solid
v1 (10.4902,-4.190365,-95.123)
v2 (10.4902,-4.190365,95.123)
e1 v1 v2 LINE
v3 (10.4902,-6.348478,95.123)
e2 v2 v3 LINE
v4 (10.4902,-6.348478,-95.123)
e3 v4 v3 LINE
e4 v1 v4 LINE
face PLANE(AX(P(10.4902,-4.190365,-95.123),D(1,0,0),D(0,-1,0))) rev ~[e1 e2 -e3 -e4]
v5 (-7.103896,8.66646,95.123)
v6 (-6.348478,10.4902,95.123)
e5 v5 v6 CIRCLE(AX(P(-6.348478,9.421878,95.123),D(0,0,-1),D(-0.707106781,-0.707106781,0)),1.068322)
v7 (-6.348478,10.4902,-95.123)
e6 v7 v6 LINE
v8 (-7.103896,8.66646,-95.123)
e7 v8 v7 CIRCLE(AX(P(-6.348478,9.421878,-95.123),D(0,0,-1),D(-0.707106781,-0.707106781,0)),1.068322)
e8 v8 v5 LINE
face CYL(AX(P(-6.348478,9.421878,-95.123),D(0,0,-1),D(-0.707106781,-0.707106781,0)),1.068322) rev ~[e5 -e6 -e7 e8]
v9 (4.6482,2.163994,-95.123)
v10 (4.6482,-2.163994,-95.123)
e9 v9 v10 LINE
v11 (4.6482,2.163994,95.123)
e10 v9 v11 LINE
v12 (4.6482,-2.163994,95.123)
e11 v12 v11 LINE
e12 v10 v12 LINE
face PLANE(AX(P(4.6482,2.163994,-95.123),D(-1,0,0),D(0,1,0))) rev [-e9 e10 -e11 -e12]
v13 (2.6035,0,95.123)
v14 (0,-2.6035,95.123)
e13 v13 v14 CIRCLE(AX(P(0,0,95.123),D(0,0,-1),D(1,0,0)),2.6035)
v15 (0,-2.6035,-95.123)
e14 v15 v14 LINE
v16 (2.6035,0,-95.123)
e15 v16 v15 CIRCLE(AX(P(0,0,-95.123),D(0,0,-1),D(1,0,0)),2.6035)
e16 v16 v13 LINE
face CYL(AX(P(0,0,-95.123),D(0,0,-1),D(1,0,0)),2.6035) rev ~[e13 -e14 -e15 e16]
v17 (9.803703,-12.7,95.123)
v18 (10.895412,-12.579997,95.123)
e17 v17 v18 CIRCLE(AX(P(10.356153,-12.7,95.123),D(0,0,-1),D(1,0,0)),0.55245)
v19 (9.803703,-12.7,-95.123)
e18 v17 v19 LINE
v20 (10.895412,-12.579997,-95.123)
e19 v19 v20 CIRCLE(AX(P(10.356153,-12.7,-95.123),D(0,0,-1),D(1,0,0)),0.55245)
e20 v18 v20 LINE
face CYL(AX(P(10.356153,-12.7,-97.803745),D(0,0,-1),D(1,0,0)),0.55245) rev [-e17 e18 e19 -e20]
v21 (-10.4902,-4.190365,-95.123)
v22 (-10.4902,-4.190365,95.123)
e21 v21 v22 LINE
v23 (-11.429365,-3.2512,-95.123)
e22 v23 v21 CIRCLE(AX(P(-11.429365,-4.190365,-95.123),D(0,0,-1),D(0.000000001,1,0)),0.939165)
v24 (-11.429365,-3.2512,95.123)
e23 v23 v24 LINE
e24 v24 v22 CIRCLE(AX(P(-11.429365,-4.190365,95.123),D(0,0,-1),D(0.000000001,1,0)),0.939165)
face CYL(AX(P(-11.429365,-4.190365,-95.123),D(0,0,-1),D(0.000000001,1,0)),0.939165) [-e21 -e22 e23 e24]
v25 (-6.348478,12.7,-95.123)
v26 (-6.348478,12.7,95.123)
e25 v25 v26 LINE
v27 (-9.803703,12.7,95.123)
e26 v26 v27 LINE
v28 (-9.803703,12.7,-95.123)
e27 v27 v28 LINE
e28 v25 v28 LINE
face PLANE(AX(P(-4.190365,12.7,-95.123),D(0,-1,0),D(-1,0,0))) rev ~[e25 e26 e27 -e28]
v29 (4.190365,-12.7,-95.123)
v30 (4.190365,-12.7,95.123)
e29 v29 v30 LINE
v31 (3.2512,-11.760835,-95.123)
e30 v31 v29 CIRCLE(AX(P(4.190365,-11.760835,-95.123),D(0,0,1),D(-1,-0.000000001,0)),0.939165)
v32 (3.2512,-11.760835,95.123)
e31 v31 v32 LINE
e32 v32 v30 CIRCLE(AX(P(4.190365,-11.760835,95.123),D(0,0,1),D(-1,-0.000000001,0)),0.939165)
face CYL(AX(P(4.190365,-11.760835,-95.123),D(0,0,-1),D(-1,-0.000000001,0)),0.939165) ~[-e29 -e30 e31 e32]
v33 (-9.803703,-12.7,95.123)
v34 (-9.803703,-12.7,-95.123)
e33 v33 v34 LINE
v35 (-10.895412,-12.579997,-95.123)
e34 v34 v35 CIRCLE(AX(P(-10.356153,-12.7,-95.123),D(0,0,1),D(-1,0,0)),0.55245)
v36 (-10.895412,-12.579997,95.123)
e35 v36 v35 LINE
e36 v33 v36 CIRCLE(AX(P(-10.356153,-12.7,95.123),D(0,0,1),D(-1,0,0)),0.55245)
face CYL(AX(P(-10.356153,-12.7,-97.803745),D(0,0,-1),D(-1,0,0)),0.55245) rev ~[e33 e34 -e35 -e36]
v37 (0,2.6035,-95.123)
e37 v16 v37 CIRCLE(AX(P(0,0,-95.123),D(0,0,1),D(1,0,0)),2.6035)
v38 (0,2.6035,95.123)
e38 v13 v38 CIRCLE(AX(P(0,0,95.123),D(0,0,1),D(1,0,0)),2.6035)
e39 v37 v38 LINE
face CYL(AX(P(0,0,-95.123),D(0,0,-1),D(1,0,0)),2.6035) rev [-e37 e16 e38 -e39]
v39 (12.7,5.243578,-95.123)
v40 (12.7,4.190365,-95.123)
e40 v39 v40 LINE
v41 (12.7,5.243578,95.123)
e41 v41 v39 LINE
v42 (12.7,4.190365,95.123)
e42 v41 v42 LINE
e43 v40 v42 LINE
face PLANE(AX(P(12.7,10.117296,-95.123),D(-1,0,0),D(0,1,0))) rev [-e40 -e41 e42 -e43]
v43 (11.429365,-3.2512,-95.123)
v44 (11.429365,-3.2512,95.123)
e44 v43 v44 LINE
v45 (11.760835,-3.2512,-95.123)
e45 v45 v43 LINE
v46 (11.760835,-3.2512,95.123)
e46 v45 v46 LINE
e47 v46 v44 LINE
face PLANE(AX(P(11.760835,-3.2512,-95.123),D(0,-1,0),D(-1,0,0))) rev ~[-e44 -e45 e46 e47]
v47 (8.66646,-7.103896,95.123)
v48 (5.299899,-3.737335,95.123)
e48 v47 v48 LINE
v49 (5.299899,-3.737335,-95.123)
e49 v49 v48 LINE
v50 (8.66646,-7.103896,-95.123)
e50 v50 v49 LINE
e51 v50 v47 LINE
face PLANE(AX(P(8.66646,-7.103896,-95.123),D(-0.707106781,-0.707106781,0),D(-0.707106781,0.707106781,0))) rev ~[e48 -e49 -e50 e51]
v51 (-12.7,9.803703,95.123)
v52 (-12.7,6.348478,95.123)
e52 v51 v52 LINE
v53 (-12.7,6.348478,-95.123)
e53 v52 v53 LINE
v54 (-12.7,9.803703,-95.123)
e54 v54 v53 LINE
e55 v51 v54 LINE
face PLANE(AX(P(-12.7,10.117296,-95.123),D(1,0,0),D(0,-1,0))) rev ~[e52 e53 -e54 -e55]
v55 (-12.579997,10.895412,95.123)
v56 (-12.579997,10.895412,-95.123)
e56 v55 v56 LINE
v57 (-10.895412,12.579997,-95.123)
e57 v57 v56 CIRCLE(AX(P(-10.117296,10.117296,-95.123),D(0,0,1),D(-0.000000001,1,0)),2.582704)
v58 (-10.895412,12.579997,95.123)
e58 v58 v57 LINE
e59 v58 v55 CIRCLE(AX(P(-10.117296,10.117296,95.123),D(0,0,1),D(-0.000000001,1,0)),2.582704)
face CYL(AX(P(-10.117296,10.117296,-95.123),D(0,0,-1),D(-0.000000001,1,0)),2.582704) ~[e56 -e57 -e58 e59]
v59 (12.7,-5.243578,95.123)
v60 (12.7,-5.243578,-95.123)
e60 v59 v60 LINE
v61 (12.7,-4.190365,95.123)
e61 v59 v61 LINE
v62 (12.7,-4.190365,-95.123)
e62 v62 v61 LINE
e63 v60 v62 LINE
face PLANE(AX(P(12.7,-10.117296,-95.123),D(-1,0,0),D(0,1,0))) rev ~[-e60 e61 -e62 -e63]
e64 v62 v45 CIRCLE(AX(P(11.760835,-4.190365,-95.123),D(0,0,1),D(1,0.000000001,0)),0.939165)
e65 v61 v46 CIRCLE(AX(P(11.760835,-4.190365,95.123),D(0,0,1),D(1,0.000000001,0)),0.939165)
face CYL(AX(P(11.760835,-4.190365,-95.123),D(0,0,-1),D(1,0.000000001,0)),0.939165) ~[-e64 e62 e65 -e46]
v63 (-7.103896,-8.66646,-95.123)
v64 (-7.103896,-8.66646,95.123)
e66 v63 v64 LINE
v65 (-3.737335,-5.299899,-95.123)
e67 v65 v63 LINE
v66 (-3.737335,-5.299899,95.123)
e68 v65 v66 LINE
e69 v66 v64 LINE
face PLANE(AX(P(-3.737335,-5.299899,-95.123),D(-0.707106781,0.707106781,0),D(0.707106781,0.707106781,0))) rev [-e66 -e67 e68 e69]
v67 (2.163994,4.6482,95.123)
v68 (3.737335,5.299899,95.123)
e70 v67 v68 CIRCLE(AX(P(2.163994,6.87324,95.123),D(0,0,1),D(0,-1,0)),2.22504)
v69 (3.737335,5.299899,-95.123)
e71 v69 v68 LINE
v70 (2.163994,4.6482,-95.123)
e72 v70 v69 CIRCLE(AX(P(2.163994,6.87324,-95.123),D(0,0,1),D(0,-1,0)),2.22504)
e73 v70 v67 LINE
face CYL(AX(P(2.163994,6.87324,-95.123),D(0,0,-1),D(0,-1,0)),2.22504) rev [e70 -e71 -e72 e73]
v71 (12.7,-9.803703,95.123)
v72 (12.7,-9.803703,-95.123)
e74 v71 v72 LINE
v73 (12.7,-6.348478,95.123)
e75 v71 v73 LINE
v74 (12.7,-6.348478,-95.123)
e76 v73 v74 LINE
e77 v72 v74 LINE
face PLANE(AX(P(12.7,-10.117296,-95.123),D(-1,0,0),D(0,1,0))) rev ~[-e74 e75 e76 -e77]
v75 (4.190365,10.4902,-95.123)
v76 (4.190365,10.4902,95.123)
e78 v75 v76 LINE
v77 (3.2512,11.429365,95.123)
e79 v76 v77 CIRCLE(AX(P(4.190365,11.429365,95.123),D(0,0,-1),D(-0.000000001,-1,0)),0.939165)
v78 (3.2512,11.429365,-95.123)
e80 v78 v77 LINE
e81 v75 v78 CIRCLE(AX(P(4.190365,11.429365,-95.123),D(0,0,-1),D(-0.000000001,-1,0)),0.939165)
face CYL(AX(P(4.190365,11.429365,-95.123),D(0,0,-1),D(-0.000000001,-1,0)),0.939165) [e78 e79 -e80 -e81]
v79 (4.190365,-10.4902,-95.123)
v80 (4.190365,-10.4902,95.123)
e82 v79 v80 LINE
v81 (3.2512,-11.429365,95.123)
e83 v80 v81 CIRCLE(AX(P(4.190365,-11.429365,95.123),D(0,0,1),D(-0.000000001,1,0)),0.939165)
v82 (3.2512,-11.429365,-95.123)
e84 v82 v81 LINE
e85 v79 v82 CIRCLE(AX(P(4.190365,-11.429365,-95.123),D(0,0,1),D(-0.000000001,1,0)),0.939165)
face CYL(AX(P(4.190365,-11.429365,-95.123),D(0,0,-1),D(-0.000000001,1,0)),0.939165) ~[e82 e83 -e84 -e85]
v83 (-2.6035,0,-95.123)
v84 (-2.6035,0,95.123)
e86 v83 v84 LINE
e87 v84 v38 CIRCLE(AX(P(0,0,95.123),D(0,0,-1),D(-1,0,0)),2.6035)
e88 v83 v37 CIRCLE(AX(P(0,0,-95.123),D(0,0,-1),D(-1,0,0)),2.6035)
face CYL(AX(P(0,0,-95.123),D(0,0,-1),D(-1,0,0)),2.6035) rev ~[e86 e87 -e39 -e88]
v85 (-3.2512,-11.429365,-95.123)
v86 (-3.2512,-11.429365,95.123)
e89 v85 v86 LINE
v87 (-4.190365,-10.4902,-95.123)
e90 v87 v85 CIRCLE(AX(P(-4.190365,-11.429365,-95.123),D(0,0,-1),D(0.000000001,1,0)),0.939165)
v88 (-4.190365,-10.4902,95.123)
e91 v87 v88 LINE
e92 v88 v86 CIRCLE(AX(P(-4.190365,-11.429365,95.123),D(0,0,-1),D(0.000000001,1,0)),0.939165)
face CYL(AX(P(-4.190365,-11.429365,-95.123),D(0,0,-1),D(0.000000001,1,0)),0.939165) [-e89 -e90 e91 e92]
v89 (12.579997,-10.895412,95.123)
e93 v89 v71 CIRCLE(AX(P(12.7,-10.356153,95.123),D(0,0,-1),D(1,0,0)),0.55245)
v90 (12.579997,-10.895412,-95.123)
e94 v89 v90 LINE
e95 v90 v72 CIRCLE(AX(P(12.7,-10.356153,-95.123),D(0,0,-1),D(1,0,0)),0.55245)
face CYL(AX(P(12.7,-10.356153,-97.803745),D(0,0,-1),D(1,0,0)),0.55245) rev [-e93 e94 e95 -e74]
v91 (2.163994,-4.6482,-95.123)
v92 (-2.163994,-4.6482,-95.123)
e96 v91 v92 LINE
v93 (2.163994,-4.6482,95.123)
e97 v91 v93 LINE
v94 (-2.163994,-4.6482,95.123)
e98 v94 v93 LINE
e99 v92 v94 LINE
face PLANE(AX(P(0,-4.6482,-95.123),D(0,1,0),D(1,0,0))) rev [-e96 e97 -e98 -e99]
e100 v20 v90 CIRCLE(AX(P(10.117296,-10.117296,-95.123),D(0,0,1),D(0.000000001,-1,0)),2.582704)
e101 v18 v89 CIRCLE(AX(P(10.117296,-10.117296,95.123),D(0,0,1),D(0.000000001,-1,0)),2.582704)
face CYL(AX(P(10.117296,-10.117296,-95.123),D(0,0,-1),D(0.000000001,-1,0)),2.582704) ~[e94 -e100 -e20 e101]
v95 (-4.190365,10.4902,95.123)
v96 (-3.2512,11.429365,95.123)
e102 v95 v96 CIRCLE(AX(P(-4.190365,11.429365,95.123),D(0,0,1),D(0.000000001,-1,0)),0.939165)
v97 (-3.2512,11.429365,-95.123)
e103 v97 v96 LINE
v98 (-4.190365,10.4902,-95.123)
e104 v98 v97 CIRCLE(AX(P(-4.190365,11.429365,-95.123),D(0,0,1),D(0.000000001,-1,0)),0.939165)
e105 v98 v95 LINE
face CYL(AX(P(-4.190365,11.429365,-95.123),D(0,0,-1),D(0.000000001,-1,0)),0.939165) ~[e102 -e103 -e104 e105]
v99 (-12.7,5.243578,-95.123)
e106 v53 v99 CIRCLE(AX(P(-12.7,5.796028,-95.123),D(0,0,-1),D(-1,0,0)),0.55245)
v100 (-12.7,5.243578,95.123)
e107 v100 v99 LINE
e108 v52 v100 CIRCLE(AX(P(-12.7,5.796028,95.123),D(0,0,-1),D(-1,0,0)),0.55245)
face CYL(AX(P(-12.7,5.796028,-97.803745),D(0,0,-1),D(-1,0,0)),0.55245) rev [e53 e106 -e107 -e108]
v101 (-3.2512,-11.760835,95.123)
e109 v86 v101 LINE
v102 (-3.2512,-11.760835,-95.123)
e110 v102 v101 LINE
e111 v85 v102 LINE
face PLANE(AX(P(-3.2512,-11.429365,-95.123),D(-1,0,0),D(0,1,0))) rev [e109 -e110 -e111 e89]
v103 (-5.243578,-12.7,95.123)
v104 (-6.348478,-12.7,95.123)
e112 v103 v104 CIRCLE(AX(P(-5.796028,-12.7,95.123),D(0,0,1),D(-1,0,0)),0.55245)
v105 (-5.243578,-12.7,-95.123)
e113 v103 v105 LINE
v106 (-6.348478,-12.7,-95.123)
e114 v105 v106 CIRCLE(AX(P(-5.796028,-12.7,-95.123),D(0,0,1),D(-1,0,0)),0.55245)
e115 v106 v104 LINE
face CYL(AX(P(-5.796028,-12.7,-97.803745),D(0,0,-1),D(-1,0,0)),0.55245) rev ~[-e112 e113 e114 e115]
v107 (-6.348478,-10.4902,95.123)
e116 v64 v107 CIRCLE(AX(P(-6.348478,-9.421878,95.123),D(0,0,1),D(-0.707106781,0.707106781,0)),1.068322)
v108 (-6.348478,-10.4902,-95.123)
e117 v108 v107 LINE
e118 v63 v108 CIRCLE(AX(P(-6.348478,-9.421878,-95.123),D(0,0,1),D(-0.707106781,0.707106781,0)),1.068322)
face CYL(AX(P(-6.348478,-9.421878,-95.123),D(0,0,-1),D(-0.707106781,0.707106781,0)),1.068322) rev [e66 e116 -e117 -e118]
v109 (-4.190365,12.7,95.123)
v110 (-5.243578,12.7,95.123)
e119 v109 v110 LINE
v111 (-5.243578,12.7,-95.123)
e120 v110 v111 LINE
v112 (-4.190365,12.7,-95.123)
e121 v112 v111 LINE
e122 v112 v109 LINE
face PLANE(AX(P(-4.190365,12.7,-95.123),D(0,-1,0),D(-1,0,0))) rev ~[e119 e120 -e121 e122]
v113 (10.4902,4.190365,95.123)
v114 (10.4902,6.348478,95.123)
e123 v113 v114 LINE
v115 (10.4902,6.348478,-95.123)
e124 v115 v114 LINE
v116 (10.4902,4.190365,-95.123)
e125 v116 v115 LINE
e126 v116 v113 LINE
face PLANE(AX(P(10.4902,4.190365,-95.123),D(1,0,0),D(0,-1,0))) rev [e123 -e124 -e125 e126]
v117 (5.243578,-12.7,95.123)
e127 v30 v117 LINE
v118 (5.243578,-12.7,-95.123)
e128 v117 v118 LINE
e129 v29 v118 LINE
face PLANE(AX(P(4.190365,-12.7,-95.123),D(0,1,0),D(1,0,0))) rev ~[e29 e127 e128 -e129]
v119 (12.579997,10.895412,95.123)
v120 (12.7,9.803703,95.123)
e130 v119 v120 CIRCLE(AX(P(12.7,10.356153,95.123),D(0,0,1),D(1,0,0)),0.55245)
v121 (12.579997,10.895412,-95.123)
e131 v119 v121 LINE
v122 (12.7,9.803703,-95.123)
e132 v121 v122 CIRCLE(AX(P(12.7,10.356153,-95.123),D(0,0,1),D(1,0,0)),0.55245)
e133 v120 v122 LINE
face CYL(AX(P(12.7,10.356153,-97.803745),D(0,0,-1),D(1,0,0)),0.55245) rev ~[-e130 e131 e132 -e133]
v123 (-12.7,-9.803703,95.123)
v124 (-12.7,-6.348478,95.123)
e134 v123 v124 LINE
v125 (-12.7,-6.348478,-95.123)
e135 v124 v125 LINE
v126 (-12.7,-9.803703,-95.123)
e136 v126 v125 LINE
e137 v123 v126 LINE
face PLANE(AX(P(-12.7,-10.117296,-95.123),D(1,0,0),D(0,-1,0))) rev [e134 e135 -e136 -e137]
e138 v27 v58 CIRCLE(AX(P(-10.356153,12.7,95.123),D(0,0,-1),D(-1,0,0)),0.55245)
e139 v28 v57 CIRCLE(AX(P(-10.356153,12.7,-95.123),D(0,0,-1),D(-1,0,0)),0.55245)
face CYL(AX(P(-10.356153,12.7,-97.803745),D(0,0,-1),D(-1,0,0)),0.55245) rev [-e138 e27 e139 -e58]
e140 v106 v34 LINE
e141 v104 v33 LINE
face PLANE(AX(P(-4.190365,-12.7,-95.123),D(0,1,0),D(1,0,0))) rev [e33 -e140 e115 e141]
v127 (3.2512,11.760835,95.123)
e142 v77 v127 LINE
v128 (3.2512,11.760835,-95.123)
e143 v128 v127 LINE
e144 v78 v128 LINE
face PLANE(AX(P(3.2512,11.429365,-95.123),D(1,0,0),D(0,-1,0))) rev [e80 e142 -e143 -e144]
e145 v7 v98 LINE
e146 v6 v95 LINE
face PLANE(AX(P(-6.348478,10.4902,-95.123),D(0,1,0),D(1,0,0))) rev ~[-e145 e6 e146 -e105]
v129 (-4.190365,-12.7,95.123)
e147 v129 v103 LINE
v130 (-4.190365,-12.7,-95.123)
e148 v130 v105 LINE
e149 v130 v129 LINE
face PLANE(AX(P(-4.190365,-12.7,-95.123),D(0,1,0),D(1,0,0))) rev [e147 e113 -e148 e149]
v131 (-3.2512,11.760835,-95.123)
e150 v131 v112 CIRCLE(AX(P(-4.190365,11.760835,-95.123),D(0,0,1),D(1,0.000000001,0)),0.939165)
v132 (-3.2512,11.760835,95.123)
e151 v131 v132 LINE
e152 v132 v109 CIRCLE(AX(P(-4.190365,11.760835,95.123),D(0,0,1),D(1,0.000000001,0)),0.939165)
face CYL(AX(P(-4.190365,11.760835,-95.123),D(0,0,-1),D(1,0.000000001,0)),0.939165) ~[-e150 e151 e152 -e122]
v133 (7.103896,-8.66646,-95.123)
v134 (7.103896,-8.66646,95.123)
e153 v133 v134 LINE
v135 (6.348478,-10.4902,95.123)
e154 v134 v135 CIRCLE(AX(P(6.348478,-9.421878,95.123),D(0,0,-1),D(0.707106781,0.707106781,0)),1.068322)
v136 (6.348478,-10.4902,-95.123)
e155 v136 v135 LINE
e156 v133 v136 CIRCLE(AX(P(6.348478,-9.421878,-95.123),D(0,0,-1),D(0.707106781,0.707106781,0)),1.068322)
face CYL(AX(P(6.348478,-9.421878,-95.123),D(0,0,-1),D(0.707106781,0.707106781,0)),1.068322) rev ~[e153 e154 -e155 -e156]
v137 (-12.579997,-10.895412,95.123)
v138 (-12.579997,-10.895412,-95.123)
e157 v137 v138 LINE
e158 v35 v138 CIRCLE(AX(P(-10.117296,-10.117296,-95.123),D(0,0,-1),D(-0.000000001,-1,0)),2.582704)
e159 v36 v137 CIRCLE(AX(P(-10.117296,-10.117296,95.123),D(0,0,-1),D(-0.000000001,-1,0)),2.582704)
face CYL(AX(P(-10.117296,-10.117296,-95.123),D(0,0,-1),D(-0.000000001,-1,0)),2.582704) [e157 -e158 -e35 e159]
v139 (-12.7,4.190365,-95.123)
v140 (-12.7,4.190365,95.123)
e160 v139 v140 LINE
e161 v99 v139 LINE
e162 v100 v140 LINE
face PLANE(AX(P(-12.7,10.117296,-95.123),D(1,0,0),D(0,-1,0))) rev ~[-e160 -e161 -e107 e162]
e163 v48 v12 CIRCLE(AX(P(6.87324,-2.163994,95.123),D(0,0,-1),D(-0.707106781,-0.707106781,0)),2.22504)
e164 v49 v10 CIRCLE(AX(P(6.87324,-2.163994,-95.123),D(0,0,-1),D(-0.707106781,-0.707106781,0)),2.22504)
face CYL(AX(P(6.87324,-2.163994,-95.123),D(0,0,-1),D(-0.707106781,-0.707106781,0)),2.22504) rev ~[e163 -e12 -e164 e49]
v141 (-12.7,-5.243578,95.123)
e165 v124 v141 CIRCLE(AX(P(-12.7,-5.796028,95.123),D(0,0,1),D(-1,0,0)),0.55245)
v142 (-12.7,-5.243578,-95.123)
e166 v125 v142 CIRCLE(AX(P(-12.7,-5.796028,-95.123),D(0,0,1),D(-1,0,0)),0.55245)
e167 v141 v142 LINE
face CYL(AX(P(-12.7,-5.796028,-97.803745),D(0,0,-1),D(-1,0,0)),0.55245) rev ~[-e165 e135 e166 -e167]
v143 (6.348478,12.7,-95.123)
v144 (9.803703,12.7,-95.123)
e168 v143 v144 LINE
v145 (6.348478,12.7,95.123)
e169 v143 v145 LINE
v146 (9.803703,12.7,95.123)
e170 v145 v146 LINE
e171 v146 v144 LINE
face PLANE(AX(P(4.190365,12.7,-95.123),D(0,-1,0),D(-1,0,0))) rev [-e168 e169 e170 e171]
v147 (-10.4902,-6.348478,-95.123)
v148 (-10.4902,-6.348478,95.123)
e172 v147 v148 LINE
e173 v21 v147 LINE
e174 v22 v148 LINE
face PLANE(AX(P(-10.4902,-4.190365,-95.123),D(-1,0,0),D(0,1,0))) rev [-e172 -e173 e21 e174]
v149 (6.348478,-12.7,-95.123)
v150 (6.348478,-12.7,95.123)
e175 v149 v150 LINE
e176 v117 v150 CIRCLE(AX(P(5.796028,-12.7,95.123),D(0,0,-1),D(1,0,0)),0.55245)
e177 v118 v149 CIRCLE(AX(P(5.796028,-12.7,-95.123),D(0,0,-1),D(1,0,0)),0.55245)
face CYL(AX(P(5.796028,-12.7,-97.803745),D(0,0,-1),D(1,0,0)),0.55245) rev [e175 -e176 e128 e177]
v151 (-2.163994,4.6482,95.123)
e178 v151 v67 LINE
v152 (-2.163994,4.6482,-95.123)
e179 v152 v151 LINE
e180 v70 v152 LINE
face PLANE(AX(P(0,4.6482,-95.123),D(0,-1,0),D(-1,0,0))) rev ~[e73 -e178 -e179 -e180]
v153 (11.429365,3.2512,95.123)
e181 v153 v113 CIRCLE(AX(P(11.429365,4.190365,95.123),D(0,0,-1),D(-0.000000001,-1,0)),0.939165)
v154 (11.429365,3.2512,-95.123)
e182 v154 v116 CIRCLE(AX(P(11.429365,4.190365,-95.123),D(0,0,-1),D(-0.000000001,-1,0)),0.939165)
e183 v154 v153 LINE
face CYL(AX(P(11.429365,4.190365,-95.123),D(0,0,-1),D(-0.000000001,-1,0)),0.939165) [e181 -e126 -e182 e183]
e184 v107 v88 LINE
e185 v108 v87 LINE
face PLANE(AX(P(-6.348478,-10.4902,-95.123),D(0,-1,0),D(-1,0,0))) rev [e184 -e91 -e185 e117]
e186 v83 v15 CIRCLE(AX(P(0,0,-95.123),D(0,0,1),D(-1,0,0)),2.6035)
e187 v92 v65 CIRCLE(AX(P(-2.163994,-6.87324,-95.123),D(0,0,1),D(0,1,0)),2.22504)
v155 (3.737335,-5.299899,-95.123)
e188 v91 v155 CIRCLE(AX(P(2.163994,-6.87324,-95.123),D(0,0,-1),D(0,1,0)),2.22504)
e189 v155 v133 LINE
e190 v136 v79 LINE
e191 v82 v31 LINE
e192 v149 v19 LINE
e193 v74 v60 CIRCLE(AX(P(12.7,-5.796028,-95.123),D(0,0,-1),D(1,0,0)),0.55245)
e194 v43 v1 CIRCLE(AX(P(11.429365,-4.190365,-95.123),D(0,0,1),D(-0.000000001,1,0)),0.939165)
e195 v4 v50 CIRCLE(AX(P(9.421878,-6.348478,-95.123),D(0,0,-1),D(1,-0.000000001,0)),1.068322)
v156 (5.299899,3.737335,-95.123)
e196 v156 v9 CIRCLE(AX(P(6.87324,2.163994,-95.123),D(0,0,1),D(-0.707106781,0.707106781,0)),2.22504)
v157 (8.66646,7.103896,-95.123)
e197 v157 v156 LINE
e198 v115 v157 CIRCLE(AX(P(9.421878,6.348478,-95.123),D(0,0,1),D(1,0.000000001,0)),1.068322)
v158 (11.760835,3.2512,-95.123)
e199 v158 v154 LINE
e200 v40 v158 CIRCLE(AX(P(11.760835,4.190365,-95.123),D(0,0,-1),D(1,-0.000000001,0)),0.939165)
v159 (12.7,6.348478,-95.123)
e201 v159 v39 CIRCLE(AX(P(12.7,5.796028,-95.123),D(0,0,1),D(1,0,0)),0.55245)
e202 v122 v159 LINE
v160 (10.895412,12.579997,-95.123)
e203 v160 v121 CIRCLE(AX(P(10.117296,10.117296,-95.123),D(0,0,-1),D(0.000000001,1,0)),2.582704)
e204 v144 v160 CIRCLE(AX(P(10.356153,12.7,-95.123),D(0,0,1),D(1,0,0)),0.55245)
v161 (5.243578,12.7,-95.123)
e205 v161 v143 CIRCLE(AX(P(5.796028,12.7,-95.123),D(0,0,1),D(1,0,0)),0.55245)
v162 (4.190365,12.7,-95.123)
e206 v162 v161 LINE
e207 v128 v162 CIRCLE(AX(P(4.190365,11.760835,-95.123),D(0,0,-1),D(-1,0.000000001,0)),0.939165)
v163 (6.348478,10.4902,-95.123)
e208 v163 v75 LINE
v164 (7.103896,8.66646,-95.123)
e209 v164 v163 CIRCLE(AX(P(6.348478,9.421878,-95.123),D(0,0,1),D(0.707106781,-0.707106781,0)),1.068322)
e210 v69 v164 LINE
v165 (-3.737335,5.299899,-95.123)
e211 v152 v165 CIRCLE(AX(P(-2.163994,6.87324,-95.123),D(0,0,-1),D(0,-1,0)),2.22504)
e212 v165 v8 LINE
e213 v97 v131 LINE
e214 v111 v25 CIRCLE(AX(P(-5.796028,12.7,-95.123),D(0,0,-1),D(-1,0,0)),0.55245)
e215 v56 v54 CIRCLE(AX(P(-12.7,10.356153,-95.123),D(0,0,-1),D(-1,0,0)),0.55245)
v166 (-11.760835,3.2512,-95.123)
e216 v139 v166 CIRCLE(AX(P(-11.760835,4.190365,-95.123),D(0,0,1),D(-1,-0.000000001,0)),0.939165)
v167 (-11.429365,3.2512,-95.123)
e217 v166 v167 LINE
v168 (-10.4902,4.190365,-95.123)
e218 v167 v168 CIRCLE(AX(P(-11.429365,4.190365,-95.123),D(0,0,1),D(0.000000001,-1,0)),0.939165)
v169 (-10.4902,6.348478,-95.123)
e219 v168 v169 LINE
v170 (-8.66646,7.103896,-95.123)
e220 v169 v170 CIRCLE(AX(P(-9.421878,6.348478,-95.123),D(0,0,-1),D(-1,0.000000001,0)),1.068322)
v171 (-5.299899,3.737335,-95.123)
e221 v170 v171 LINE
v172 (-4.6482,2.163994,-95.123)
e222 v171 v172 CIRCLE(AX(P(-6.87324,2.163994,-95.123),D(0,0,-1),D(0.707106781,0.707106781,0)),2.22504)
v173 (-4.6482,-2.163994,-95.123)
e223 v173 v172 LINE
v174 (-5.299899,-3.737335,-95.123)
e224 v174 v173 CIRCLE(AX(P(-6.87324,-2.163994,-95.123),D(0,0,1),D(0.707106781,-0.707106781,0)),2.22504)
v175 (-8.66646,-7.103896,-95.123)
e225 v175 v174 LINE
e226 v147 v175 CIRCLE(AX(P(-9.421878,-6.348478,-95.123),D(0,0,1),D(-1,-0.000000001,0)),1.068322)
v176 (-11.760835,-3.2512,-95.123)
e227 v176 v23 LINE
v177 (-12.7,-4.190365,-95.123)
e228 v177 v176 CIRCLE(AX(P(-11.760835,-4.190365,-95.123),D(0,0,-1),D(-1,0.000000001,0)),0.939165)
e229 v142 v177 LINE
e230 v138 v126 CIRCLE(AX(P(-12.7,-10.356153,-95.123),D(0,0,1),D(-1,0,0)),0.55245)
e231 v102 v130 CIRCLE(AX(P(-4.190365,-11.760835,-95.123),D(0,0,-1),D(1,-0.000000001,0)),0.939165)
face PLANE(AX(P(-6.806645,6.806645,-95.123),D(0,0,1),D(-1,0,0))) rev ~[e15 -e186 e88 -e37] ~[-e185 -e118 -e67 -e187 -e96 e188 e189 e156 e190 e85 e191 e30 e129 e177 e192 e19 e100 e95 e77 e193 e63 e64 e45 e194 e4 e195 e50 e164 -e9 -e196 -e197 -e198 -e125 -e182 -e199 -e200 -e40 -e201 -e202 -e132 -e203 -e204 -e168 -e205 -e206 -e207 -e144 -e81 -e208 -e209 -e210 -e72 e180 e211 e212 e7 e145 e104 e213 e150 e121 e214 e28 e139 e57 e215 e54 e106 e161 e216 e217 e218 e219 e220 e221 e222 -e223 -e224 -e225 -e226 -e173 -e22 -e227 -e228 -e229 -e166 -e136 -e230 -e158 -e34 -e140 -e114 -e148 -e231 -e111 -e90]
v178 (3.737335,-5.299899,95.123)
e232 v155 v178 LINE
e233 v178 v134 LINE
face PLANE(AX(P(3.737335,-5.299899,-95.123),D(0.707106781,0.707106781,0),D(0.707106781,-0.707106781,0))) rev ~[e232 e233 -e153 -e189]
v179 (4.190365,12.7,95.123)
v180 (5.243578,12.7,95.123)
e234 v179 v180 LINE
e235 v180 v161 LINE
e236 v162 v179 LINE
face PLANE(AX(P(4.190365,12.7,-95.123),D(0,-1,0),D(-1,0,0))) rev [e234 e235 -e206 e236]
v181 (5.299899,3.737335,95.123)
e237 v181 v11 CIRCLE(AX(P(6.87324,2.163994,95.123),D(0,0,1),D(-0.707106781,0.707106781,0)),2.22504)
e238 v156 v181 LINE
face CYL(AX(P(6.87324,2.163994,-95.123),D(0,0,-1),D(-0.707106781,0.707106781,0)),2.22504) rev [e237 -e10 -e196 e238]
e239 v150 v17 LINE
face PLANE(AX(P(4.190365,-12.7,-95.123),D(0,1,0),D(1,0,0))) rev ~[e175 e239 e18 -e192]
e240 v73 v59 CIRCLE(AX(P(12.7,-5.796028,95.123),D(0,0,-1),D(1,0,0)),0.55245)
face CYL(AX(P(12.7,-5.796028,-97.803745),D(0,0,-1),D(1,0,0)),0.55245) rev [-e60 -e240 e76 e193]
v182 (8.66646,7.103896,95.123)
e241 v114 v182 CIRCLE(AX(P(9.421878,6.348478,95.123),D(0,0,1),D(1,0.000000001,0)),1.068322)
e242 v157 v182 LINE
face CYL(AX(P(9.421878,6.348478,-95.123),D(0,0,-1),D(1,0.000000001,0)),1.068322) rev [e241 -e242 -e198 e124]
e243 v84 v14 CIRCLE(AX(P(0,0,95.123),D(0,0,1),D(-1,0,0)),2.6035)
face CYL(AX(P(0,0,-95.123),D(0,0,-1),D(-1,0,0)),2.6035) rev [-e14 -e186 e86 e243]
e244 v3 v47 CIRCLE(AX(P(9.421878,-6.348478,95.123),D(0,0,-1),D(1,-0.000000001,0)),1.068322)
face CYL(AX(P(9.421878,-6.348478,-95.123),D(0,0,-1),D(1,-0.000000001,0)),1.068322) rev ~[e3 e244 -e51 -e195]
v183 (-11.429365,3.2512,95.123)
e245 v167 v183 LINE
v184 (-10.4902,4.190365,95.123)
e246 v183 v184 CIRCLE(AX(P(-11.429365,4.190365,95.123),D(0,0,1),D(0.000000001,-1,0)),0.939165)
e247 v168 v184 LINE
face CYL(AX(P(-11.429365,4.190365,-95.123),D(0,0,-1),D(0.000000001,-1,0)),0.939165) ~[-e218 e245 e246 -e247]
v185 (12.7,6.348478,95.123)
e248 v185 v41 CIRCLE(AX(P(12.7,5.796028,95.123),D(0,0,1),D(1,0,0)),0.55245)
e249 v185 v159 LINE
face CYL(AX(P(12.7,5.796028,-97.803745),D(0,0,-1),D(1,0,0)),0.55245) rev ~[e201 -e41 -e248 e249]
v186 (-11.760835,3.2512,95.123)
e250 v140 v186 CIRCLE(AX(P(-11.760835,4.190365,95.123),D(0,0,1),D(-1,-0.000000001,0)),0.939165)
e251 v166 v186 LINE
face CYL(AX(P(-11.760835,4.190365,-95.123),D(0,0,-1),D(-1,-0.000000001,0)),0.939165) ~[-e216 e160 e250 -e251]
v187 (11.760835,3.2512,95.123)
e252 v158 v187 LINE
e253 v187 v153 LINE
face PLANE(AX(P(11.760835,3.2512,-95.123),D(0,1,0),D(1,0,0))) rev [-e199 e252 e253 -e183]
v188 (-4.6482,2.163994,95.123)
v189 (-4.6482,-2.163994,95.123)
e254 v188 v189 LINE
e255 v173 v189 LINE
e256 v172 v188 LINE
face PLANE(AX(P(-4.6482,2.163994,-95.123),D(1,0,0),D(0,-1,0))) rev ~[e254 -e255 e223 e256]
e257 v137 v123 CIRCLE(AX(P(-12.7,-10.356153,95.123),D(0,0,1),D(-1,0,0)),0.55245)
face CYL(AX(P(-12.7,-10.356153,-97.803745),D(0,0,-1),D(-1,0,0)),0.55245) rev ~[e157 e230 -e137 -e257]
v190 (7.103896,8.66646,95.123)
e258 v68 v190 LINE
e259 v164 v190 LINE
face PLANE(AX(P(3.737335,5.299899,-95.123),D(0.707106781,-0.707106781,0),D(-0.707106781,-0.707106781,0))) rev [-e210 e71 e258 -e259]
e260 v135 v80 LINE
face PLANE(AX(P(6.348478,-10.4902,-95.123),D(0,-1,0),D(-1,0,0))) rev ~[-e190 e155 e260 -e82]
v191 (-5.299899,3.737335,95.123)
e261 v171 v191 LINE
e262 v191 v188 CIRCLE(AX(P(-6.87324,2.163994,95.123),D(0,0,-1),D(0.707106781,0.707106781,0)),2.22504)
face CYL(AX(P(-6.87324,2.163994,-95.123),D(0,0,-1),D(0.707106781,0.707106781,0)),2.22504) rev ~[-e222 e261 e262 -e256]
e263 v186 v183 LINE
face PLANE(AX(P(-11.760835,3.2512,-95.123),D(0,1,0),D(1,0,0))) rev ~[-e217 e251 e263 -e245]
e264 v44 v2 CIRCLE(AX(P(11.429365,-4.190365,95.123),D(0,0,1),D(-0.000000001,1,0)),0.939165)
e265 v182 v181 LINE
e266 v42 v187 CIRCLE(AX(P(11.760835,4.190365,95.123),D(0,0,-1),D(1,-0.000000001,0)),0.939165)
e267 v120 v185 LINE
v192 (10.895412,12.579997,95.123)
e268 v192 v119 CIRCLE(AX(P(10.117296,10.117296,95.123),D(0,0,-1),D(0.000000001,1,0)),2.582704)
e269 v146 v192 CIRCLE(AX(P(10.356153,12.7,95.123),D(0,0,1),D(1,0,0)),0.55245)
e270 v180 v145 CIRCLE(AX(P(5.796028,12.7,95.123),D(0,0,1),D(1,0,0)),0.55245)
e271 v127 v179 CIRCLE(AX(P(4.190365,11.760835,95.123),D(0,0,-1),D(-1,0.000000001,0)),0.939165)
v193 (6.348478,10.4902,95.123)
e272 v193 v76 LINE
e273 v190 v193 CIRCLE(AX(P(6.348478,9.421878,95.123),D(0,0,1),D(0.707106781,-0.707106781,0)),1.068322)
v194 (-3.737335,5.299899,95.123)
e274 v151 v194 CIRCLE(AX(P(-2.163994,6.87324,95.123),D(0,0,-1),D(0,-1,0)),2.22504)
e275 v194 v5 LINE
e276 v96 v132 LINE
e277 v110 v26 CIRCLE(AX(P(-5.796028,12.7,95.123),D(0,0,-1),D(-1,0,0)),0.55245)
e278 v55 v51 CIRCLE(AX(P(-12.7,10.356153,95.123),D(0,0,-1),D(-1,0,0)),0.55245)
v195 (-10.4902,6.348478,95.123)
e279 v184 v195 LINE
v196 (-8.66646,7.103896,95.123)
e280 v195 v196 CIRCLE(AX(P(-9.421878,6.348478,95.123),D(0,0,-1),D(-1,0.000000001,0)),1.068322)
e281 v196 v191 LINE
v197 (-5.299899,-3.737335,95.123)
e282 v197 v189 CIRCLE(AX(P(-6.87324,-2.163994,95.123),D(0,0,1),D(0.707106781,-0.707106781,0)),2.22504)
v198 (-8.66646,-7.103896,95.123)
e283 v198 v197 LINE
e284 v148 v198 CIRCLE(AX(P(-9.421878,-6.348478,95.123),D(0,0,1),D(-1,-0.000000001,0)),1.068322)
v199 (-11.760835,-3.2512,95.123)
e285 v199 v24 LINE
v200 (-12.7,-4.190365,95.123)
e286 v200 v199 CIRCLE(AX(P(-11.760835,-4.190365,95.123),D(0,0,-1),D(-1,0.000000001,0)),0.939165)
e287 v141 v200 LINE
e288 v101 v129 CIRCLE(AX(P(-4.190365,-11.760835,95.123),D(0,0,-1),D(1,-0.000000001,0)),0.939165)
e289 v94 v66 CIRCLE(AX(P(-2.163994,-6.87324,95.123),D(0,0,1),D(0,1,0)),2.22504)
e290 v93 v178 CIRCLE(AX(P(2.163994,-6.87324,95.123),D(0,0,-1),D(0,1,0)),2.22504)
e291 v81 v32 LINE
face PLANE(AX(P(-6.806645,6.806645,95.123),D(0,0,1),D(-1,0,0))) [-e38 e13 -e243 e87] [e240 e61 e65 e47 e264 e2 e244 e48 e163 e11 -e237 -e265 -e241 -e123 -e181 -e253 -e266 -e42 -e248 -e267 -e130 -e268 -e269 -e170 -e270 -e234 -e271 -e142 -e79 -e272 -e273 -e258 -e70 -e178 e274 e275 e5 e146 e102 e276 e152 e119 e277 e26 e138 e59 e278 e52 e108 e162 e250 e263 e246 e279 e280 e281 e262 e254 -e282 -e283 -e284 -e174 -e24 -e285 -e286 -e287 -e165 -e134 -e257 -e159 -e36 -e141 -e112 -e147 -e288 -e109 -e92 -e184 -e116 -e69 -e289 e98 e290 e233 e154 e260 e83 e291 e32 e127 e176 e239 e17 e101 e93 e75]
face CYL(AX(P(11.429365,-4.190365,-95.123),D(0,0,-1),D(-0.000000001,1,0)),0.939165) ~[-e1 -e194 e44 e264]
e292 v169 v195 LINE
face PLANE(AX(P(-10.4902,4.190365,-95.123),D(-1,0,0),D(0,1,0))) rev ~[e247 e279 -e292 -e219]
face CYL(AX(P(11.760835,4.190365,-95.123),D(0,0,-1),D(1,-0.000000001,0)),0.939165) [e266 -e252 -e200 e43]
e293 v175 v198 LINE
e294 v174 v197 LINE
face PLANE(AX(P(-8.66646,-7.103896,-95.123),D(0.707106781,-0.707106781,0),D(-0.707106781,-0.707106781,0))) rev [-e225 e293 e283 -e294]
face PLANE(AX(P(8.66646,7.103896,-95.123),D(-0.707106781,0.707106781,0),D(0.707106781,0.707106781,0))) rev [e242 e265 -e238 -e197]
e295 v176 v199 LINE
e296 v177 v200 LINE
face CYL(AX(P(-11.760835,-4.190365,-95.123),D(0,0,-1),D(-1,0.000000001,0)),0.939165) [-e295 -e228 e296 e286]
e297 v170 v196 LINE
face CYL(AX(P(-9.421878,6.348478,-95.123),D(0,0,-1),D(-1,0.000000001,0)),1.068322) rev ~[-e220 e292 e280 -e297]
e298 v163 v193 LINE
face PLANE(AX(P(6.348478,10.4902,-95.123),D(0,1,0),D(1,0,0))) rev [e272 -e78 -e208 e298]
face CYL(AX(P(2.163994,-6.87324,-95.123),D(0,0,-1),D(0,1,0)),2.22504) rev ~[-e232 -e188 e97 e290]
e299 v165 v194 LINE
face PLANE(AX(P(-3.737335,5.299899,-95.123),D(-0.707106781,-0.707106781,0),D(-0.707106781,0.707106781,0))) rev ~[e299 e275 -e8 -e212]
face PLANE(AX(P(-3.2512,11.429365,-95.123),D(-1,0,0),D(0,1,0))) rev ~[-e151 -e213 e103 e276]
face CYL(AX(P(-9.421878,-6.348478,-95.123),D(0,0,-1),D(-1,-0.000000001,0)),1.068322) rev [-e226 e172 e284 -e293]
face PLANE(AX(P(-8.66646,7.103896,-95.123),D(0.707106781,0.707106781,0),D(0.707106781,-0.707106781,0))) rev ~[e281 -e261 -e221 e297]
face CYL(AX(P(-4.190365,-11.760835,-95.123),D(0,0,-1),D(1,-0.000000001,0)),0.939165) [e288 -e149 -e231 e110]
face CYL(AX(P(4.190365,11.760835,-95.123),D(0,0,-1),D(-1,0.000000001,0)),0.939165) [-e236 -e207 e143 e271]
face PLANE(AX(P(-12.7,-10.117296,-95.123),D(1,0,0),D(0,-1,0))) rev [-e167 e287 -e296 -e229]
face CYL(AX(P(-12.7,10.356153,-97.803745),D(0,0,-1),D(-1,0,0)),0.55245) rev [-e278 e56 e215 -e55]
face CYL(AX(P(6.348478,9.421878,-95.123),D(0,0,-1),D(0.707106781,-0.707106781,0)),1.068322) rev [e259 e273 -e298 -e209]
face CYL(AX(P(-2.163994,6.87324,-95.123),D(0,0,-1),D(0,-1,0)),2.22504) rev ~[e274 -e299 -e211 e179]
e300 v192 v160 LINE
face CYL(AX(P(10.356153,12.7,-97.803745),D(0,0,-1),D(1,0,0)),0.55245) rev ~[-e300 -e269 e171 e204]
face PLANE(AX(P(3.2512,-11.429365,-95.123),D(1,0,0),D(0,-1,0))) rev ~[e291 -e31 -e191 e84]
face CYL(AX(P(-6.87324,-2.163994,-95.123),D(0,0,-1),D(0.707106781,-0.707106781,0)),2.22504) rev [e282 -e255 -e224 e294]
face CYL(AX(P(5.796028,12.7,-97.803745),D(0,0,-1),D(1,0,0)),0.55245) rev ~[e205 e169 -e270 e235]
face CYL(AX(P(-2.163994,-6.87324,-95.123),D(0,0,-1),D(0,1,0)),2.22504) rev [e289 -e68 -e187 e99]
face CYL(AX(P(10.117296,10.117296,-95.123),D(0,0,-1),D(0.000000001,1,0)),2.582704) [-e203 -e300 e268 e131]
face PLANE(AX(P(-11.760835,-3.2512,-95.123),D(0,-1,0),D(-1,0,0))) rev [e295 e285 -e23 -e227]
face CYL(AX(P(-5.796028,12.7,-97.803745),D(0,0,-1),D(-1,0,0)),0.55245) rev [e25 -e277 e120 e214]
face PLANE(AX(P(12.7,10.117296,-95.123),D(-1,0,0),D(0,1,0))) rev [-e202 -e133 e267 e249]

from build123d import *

# Parameters (mm, degrees)
BOSS_EXTRUDE1_START     = -95.123
BOSS_EXTRUDE1_DEPTH     = 190.246
CUT_EXTRUDE1_DEPTH      = 97.803745429
CUT_EXTRUDE1_DEPTH_BACK = 97.803745429
SKETCH5_R               = 0.55245


with BuildPart() as part:
    # Sketch4 → Boss-Extrude1 (new body)
    with BuildSketch(Plane.XY.offset(BOSS_EXTRUDE1_START)):
        with BuildLine():
            Line((4.190365, -12.7), (10.11729625, -12.7))
            ThreePointArc((10.11729625, -12.7), (11.943543585, -11.943543585), (12.7, -10.11729625))
            Line((12.7, -10.11729625), (12.7, -4.190365))
            ThreePointArc((12.7, -4.190365), (12.42492494, -3.52627506), (11.760835, -3.2512))
            Line((11.760835, -3.2512), (11.429365, -3.2512))
            ThreePointArc((11.429365, -3.2512), (10.76527506, -3.52627506), (10.4902, -4.190365))
            Line((10.4902, -4.190365), (10.4902, -6.348478019))
            ThreePointArc((10.4902, -6.348478019), (9.830707141, -7.335478831), (8.666460301, -7.103895736))
            Line((8.666460301, -7.103895736), (5.299899128, -3.737334563))
            ThreePointArc((5.299899128, -3.737334563), (4.817571085, -3.015479634), (4.6482, -2.16399369))
            Line((4.6482, -2.16399369), (4.6482, 0))
            Line((4.6482, 0), (2.6035, 0))
            ThreePointArc((2.6035, 0), (1.840952505, -1.840952505), (0, -2.6035))
            Line((0, -2.6035), (0, -4.6482))
            Line((0, -4.6482), (2.16399369, -4.6482))
            ThreePointArc((2.16399369, -4.6482), (3.015479634, -4.817571085), (3.737334563, -5.299899128))
            Line((3.737334563, -5.299899128), (7.103895736, -8.666460301))
            ThreePointArc((7.103895736, -8.666460301), (7.335478831, -9.830707141), (6.348478019, -10.4902))
            Line((6.348478019, -10.4902), (4.190365, -10.4902))
            ThreePointArc((4.190365, -10.4902), (3.52627506, -10.76527506), (3.2512, -11.429365))
            Line((3.2512, -11.429365), (3.2512, -11.760835))
            ThreePointArc((3.2512, -11.760835), (3.52627506, -12.42492494), (4.190365, -12.7))
        make_face()
    extrude(amount=BOSS_EXTRUDE1_DEPTH)

    # Sketch5 → Cut-Extrude1 (cut, two sides: drawn at the far end of the back side and taken through both)
    with BuildSketch(Plane.XY.offset(-CUT_EXTRUDE1_DEPTH_BACK)):
        with Locations((10.356153152, -12.7)):
            Circle(SKETCH5_R)
        with Locations((5.796028019, -12.7)):
            Circle(SKETCH5_R)
        with Locations((12.7, -10.356153152)):
            Circle(SKETCH5_R)
        with Locations((12.7, -5.796028019)):
            Circle(SKETCH5_R)
    extrude(amount=CUT_EXTRUDE1_DEPTH + CUT_EXTRUDE1_DEPTH_BACK, mode=Mode.SUBTRACT)

    # Mirror1: part across plane


with BuildPart() as part_1:
    add(part.part)
    add(part.part.mirror(Plane(origin=(0, 0, 0), x_dir=(0, 0, 1), z_dir=(1, 0, 0))))

    # Mirror2: part across plane


with BuildPart() as part_2:
    add(part_1.part)
    add(part_1.part.mirror(Plane.ZX))


solid = part_2.part
